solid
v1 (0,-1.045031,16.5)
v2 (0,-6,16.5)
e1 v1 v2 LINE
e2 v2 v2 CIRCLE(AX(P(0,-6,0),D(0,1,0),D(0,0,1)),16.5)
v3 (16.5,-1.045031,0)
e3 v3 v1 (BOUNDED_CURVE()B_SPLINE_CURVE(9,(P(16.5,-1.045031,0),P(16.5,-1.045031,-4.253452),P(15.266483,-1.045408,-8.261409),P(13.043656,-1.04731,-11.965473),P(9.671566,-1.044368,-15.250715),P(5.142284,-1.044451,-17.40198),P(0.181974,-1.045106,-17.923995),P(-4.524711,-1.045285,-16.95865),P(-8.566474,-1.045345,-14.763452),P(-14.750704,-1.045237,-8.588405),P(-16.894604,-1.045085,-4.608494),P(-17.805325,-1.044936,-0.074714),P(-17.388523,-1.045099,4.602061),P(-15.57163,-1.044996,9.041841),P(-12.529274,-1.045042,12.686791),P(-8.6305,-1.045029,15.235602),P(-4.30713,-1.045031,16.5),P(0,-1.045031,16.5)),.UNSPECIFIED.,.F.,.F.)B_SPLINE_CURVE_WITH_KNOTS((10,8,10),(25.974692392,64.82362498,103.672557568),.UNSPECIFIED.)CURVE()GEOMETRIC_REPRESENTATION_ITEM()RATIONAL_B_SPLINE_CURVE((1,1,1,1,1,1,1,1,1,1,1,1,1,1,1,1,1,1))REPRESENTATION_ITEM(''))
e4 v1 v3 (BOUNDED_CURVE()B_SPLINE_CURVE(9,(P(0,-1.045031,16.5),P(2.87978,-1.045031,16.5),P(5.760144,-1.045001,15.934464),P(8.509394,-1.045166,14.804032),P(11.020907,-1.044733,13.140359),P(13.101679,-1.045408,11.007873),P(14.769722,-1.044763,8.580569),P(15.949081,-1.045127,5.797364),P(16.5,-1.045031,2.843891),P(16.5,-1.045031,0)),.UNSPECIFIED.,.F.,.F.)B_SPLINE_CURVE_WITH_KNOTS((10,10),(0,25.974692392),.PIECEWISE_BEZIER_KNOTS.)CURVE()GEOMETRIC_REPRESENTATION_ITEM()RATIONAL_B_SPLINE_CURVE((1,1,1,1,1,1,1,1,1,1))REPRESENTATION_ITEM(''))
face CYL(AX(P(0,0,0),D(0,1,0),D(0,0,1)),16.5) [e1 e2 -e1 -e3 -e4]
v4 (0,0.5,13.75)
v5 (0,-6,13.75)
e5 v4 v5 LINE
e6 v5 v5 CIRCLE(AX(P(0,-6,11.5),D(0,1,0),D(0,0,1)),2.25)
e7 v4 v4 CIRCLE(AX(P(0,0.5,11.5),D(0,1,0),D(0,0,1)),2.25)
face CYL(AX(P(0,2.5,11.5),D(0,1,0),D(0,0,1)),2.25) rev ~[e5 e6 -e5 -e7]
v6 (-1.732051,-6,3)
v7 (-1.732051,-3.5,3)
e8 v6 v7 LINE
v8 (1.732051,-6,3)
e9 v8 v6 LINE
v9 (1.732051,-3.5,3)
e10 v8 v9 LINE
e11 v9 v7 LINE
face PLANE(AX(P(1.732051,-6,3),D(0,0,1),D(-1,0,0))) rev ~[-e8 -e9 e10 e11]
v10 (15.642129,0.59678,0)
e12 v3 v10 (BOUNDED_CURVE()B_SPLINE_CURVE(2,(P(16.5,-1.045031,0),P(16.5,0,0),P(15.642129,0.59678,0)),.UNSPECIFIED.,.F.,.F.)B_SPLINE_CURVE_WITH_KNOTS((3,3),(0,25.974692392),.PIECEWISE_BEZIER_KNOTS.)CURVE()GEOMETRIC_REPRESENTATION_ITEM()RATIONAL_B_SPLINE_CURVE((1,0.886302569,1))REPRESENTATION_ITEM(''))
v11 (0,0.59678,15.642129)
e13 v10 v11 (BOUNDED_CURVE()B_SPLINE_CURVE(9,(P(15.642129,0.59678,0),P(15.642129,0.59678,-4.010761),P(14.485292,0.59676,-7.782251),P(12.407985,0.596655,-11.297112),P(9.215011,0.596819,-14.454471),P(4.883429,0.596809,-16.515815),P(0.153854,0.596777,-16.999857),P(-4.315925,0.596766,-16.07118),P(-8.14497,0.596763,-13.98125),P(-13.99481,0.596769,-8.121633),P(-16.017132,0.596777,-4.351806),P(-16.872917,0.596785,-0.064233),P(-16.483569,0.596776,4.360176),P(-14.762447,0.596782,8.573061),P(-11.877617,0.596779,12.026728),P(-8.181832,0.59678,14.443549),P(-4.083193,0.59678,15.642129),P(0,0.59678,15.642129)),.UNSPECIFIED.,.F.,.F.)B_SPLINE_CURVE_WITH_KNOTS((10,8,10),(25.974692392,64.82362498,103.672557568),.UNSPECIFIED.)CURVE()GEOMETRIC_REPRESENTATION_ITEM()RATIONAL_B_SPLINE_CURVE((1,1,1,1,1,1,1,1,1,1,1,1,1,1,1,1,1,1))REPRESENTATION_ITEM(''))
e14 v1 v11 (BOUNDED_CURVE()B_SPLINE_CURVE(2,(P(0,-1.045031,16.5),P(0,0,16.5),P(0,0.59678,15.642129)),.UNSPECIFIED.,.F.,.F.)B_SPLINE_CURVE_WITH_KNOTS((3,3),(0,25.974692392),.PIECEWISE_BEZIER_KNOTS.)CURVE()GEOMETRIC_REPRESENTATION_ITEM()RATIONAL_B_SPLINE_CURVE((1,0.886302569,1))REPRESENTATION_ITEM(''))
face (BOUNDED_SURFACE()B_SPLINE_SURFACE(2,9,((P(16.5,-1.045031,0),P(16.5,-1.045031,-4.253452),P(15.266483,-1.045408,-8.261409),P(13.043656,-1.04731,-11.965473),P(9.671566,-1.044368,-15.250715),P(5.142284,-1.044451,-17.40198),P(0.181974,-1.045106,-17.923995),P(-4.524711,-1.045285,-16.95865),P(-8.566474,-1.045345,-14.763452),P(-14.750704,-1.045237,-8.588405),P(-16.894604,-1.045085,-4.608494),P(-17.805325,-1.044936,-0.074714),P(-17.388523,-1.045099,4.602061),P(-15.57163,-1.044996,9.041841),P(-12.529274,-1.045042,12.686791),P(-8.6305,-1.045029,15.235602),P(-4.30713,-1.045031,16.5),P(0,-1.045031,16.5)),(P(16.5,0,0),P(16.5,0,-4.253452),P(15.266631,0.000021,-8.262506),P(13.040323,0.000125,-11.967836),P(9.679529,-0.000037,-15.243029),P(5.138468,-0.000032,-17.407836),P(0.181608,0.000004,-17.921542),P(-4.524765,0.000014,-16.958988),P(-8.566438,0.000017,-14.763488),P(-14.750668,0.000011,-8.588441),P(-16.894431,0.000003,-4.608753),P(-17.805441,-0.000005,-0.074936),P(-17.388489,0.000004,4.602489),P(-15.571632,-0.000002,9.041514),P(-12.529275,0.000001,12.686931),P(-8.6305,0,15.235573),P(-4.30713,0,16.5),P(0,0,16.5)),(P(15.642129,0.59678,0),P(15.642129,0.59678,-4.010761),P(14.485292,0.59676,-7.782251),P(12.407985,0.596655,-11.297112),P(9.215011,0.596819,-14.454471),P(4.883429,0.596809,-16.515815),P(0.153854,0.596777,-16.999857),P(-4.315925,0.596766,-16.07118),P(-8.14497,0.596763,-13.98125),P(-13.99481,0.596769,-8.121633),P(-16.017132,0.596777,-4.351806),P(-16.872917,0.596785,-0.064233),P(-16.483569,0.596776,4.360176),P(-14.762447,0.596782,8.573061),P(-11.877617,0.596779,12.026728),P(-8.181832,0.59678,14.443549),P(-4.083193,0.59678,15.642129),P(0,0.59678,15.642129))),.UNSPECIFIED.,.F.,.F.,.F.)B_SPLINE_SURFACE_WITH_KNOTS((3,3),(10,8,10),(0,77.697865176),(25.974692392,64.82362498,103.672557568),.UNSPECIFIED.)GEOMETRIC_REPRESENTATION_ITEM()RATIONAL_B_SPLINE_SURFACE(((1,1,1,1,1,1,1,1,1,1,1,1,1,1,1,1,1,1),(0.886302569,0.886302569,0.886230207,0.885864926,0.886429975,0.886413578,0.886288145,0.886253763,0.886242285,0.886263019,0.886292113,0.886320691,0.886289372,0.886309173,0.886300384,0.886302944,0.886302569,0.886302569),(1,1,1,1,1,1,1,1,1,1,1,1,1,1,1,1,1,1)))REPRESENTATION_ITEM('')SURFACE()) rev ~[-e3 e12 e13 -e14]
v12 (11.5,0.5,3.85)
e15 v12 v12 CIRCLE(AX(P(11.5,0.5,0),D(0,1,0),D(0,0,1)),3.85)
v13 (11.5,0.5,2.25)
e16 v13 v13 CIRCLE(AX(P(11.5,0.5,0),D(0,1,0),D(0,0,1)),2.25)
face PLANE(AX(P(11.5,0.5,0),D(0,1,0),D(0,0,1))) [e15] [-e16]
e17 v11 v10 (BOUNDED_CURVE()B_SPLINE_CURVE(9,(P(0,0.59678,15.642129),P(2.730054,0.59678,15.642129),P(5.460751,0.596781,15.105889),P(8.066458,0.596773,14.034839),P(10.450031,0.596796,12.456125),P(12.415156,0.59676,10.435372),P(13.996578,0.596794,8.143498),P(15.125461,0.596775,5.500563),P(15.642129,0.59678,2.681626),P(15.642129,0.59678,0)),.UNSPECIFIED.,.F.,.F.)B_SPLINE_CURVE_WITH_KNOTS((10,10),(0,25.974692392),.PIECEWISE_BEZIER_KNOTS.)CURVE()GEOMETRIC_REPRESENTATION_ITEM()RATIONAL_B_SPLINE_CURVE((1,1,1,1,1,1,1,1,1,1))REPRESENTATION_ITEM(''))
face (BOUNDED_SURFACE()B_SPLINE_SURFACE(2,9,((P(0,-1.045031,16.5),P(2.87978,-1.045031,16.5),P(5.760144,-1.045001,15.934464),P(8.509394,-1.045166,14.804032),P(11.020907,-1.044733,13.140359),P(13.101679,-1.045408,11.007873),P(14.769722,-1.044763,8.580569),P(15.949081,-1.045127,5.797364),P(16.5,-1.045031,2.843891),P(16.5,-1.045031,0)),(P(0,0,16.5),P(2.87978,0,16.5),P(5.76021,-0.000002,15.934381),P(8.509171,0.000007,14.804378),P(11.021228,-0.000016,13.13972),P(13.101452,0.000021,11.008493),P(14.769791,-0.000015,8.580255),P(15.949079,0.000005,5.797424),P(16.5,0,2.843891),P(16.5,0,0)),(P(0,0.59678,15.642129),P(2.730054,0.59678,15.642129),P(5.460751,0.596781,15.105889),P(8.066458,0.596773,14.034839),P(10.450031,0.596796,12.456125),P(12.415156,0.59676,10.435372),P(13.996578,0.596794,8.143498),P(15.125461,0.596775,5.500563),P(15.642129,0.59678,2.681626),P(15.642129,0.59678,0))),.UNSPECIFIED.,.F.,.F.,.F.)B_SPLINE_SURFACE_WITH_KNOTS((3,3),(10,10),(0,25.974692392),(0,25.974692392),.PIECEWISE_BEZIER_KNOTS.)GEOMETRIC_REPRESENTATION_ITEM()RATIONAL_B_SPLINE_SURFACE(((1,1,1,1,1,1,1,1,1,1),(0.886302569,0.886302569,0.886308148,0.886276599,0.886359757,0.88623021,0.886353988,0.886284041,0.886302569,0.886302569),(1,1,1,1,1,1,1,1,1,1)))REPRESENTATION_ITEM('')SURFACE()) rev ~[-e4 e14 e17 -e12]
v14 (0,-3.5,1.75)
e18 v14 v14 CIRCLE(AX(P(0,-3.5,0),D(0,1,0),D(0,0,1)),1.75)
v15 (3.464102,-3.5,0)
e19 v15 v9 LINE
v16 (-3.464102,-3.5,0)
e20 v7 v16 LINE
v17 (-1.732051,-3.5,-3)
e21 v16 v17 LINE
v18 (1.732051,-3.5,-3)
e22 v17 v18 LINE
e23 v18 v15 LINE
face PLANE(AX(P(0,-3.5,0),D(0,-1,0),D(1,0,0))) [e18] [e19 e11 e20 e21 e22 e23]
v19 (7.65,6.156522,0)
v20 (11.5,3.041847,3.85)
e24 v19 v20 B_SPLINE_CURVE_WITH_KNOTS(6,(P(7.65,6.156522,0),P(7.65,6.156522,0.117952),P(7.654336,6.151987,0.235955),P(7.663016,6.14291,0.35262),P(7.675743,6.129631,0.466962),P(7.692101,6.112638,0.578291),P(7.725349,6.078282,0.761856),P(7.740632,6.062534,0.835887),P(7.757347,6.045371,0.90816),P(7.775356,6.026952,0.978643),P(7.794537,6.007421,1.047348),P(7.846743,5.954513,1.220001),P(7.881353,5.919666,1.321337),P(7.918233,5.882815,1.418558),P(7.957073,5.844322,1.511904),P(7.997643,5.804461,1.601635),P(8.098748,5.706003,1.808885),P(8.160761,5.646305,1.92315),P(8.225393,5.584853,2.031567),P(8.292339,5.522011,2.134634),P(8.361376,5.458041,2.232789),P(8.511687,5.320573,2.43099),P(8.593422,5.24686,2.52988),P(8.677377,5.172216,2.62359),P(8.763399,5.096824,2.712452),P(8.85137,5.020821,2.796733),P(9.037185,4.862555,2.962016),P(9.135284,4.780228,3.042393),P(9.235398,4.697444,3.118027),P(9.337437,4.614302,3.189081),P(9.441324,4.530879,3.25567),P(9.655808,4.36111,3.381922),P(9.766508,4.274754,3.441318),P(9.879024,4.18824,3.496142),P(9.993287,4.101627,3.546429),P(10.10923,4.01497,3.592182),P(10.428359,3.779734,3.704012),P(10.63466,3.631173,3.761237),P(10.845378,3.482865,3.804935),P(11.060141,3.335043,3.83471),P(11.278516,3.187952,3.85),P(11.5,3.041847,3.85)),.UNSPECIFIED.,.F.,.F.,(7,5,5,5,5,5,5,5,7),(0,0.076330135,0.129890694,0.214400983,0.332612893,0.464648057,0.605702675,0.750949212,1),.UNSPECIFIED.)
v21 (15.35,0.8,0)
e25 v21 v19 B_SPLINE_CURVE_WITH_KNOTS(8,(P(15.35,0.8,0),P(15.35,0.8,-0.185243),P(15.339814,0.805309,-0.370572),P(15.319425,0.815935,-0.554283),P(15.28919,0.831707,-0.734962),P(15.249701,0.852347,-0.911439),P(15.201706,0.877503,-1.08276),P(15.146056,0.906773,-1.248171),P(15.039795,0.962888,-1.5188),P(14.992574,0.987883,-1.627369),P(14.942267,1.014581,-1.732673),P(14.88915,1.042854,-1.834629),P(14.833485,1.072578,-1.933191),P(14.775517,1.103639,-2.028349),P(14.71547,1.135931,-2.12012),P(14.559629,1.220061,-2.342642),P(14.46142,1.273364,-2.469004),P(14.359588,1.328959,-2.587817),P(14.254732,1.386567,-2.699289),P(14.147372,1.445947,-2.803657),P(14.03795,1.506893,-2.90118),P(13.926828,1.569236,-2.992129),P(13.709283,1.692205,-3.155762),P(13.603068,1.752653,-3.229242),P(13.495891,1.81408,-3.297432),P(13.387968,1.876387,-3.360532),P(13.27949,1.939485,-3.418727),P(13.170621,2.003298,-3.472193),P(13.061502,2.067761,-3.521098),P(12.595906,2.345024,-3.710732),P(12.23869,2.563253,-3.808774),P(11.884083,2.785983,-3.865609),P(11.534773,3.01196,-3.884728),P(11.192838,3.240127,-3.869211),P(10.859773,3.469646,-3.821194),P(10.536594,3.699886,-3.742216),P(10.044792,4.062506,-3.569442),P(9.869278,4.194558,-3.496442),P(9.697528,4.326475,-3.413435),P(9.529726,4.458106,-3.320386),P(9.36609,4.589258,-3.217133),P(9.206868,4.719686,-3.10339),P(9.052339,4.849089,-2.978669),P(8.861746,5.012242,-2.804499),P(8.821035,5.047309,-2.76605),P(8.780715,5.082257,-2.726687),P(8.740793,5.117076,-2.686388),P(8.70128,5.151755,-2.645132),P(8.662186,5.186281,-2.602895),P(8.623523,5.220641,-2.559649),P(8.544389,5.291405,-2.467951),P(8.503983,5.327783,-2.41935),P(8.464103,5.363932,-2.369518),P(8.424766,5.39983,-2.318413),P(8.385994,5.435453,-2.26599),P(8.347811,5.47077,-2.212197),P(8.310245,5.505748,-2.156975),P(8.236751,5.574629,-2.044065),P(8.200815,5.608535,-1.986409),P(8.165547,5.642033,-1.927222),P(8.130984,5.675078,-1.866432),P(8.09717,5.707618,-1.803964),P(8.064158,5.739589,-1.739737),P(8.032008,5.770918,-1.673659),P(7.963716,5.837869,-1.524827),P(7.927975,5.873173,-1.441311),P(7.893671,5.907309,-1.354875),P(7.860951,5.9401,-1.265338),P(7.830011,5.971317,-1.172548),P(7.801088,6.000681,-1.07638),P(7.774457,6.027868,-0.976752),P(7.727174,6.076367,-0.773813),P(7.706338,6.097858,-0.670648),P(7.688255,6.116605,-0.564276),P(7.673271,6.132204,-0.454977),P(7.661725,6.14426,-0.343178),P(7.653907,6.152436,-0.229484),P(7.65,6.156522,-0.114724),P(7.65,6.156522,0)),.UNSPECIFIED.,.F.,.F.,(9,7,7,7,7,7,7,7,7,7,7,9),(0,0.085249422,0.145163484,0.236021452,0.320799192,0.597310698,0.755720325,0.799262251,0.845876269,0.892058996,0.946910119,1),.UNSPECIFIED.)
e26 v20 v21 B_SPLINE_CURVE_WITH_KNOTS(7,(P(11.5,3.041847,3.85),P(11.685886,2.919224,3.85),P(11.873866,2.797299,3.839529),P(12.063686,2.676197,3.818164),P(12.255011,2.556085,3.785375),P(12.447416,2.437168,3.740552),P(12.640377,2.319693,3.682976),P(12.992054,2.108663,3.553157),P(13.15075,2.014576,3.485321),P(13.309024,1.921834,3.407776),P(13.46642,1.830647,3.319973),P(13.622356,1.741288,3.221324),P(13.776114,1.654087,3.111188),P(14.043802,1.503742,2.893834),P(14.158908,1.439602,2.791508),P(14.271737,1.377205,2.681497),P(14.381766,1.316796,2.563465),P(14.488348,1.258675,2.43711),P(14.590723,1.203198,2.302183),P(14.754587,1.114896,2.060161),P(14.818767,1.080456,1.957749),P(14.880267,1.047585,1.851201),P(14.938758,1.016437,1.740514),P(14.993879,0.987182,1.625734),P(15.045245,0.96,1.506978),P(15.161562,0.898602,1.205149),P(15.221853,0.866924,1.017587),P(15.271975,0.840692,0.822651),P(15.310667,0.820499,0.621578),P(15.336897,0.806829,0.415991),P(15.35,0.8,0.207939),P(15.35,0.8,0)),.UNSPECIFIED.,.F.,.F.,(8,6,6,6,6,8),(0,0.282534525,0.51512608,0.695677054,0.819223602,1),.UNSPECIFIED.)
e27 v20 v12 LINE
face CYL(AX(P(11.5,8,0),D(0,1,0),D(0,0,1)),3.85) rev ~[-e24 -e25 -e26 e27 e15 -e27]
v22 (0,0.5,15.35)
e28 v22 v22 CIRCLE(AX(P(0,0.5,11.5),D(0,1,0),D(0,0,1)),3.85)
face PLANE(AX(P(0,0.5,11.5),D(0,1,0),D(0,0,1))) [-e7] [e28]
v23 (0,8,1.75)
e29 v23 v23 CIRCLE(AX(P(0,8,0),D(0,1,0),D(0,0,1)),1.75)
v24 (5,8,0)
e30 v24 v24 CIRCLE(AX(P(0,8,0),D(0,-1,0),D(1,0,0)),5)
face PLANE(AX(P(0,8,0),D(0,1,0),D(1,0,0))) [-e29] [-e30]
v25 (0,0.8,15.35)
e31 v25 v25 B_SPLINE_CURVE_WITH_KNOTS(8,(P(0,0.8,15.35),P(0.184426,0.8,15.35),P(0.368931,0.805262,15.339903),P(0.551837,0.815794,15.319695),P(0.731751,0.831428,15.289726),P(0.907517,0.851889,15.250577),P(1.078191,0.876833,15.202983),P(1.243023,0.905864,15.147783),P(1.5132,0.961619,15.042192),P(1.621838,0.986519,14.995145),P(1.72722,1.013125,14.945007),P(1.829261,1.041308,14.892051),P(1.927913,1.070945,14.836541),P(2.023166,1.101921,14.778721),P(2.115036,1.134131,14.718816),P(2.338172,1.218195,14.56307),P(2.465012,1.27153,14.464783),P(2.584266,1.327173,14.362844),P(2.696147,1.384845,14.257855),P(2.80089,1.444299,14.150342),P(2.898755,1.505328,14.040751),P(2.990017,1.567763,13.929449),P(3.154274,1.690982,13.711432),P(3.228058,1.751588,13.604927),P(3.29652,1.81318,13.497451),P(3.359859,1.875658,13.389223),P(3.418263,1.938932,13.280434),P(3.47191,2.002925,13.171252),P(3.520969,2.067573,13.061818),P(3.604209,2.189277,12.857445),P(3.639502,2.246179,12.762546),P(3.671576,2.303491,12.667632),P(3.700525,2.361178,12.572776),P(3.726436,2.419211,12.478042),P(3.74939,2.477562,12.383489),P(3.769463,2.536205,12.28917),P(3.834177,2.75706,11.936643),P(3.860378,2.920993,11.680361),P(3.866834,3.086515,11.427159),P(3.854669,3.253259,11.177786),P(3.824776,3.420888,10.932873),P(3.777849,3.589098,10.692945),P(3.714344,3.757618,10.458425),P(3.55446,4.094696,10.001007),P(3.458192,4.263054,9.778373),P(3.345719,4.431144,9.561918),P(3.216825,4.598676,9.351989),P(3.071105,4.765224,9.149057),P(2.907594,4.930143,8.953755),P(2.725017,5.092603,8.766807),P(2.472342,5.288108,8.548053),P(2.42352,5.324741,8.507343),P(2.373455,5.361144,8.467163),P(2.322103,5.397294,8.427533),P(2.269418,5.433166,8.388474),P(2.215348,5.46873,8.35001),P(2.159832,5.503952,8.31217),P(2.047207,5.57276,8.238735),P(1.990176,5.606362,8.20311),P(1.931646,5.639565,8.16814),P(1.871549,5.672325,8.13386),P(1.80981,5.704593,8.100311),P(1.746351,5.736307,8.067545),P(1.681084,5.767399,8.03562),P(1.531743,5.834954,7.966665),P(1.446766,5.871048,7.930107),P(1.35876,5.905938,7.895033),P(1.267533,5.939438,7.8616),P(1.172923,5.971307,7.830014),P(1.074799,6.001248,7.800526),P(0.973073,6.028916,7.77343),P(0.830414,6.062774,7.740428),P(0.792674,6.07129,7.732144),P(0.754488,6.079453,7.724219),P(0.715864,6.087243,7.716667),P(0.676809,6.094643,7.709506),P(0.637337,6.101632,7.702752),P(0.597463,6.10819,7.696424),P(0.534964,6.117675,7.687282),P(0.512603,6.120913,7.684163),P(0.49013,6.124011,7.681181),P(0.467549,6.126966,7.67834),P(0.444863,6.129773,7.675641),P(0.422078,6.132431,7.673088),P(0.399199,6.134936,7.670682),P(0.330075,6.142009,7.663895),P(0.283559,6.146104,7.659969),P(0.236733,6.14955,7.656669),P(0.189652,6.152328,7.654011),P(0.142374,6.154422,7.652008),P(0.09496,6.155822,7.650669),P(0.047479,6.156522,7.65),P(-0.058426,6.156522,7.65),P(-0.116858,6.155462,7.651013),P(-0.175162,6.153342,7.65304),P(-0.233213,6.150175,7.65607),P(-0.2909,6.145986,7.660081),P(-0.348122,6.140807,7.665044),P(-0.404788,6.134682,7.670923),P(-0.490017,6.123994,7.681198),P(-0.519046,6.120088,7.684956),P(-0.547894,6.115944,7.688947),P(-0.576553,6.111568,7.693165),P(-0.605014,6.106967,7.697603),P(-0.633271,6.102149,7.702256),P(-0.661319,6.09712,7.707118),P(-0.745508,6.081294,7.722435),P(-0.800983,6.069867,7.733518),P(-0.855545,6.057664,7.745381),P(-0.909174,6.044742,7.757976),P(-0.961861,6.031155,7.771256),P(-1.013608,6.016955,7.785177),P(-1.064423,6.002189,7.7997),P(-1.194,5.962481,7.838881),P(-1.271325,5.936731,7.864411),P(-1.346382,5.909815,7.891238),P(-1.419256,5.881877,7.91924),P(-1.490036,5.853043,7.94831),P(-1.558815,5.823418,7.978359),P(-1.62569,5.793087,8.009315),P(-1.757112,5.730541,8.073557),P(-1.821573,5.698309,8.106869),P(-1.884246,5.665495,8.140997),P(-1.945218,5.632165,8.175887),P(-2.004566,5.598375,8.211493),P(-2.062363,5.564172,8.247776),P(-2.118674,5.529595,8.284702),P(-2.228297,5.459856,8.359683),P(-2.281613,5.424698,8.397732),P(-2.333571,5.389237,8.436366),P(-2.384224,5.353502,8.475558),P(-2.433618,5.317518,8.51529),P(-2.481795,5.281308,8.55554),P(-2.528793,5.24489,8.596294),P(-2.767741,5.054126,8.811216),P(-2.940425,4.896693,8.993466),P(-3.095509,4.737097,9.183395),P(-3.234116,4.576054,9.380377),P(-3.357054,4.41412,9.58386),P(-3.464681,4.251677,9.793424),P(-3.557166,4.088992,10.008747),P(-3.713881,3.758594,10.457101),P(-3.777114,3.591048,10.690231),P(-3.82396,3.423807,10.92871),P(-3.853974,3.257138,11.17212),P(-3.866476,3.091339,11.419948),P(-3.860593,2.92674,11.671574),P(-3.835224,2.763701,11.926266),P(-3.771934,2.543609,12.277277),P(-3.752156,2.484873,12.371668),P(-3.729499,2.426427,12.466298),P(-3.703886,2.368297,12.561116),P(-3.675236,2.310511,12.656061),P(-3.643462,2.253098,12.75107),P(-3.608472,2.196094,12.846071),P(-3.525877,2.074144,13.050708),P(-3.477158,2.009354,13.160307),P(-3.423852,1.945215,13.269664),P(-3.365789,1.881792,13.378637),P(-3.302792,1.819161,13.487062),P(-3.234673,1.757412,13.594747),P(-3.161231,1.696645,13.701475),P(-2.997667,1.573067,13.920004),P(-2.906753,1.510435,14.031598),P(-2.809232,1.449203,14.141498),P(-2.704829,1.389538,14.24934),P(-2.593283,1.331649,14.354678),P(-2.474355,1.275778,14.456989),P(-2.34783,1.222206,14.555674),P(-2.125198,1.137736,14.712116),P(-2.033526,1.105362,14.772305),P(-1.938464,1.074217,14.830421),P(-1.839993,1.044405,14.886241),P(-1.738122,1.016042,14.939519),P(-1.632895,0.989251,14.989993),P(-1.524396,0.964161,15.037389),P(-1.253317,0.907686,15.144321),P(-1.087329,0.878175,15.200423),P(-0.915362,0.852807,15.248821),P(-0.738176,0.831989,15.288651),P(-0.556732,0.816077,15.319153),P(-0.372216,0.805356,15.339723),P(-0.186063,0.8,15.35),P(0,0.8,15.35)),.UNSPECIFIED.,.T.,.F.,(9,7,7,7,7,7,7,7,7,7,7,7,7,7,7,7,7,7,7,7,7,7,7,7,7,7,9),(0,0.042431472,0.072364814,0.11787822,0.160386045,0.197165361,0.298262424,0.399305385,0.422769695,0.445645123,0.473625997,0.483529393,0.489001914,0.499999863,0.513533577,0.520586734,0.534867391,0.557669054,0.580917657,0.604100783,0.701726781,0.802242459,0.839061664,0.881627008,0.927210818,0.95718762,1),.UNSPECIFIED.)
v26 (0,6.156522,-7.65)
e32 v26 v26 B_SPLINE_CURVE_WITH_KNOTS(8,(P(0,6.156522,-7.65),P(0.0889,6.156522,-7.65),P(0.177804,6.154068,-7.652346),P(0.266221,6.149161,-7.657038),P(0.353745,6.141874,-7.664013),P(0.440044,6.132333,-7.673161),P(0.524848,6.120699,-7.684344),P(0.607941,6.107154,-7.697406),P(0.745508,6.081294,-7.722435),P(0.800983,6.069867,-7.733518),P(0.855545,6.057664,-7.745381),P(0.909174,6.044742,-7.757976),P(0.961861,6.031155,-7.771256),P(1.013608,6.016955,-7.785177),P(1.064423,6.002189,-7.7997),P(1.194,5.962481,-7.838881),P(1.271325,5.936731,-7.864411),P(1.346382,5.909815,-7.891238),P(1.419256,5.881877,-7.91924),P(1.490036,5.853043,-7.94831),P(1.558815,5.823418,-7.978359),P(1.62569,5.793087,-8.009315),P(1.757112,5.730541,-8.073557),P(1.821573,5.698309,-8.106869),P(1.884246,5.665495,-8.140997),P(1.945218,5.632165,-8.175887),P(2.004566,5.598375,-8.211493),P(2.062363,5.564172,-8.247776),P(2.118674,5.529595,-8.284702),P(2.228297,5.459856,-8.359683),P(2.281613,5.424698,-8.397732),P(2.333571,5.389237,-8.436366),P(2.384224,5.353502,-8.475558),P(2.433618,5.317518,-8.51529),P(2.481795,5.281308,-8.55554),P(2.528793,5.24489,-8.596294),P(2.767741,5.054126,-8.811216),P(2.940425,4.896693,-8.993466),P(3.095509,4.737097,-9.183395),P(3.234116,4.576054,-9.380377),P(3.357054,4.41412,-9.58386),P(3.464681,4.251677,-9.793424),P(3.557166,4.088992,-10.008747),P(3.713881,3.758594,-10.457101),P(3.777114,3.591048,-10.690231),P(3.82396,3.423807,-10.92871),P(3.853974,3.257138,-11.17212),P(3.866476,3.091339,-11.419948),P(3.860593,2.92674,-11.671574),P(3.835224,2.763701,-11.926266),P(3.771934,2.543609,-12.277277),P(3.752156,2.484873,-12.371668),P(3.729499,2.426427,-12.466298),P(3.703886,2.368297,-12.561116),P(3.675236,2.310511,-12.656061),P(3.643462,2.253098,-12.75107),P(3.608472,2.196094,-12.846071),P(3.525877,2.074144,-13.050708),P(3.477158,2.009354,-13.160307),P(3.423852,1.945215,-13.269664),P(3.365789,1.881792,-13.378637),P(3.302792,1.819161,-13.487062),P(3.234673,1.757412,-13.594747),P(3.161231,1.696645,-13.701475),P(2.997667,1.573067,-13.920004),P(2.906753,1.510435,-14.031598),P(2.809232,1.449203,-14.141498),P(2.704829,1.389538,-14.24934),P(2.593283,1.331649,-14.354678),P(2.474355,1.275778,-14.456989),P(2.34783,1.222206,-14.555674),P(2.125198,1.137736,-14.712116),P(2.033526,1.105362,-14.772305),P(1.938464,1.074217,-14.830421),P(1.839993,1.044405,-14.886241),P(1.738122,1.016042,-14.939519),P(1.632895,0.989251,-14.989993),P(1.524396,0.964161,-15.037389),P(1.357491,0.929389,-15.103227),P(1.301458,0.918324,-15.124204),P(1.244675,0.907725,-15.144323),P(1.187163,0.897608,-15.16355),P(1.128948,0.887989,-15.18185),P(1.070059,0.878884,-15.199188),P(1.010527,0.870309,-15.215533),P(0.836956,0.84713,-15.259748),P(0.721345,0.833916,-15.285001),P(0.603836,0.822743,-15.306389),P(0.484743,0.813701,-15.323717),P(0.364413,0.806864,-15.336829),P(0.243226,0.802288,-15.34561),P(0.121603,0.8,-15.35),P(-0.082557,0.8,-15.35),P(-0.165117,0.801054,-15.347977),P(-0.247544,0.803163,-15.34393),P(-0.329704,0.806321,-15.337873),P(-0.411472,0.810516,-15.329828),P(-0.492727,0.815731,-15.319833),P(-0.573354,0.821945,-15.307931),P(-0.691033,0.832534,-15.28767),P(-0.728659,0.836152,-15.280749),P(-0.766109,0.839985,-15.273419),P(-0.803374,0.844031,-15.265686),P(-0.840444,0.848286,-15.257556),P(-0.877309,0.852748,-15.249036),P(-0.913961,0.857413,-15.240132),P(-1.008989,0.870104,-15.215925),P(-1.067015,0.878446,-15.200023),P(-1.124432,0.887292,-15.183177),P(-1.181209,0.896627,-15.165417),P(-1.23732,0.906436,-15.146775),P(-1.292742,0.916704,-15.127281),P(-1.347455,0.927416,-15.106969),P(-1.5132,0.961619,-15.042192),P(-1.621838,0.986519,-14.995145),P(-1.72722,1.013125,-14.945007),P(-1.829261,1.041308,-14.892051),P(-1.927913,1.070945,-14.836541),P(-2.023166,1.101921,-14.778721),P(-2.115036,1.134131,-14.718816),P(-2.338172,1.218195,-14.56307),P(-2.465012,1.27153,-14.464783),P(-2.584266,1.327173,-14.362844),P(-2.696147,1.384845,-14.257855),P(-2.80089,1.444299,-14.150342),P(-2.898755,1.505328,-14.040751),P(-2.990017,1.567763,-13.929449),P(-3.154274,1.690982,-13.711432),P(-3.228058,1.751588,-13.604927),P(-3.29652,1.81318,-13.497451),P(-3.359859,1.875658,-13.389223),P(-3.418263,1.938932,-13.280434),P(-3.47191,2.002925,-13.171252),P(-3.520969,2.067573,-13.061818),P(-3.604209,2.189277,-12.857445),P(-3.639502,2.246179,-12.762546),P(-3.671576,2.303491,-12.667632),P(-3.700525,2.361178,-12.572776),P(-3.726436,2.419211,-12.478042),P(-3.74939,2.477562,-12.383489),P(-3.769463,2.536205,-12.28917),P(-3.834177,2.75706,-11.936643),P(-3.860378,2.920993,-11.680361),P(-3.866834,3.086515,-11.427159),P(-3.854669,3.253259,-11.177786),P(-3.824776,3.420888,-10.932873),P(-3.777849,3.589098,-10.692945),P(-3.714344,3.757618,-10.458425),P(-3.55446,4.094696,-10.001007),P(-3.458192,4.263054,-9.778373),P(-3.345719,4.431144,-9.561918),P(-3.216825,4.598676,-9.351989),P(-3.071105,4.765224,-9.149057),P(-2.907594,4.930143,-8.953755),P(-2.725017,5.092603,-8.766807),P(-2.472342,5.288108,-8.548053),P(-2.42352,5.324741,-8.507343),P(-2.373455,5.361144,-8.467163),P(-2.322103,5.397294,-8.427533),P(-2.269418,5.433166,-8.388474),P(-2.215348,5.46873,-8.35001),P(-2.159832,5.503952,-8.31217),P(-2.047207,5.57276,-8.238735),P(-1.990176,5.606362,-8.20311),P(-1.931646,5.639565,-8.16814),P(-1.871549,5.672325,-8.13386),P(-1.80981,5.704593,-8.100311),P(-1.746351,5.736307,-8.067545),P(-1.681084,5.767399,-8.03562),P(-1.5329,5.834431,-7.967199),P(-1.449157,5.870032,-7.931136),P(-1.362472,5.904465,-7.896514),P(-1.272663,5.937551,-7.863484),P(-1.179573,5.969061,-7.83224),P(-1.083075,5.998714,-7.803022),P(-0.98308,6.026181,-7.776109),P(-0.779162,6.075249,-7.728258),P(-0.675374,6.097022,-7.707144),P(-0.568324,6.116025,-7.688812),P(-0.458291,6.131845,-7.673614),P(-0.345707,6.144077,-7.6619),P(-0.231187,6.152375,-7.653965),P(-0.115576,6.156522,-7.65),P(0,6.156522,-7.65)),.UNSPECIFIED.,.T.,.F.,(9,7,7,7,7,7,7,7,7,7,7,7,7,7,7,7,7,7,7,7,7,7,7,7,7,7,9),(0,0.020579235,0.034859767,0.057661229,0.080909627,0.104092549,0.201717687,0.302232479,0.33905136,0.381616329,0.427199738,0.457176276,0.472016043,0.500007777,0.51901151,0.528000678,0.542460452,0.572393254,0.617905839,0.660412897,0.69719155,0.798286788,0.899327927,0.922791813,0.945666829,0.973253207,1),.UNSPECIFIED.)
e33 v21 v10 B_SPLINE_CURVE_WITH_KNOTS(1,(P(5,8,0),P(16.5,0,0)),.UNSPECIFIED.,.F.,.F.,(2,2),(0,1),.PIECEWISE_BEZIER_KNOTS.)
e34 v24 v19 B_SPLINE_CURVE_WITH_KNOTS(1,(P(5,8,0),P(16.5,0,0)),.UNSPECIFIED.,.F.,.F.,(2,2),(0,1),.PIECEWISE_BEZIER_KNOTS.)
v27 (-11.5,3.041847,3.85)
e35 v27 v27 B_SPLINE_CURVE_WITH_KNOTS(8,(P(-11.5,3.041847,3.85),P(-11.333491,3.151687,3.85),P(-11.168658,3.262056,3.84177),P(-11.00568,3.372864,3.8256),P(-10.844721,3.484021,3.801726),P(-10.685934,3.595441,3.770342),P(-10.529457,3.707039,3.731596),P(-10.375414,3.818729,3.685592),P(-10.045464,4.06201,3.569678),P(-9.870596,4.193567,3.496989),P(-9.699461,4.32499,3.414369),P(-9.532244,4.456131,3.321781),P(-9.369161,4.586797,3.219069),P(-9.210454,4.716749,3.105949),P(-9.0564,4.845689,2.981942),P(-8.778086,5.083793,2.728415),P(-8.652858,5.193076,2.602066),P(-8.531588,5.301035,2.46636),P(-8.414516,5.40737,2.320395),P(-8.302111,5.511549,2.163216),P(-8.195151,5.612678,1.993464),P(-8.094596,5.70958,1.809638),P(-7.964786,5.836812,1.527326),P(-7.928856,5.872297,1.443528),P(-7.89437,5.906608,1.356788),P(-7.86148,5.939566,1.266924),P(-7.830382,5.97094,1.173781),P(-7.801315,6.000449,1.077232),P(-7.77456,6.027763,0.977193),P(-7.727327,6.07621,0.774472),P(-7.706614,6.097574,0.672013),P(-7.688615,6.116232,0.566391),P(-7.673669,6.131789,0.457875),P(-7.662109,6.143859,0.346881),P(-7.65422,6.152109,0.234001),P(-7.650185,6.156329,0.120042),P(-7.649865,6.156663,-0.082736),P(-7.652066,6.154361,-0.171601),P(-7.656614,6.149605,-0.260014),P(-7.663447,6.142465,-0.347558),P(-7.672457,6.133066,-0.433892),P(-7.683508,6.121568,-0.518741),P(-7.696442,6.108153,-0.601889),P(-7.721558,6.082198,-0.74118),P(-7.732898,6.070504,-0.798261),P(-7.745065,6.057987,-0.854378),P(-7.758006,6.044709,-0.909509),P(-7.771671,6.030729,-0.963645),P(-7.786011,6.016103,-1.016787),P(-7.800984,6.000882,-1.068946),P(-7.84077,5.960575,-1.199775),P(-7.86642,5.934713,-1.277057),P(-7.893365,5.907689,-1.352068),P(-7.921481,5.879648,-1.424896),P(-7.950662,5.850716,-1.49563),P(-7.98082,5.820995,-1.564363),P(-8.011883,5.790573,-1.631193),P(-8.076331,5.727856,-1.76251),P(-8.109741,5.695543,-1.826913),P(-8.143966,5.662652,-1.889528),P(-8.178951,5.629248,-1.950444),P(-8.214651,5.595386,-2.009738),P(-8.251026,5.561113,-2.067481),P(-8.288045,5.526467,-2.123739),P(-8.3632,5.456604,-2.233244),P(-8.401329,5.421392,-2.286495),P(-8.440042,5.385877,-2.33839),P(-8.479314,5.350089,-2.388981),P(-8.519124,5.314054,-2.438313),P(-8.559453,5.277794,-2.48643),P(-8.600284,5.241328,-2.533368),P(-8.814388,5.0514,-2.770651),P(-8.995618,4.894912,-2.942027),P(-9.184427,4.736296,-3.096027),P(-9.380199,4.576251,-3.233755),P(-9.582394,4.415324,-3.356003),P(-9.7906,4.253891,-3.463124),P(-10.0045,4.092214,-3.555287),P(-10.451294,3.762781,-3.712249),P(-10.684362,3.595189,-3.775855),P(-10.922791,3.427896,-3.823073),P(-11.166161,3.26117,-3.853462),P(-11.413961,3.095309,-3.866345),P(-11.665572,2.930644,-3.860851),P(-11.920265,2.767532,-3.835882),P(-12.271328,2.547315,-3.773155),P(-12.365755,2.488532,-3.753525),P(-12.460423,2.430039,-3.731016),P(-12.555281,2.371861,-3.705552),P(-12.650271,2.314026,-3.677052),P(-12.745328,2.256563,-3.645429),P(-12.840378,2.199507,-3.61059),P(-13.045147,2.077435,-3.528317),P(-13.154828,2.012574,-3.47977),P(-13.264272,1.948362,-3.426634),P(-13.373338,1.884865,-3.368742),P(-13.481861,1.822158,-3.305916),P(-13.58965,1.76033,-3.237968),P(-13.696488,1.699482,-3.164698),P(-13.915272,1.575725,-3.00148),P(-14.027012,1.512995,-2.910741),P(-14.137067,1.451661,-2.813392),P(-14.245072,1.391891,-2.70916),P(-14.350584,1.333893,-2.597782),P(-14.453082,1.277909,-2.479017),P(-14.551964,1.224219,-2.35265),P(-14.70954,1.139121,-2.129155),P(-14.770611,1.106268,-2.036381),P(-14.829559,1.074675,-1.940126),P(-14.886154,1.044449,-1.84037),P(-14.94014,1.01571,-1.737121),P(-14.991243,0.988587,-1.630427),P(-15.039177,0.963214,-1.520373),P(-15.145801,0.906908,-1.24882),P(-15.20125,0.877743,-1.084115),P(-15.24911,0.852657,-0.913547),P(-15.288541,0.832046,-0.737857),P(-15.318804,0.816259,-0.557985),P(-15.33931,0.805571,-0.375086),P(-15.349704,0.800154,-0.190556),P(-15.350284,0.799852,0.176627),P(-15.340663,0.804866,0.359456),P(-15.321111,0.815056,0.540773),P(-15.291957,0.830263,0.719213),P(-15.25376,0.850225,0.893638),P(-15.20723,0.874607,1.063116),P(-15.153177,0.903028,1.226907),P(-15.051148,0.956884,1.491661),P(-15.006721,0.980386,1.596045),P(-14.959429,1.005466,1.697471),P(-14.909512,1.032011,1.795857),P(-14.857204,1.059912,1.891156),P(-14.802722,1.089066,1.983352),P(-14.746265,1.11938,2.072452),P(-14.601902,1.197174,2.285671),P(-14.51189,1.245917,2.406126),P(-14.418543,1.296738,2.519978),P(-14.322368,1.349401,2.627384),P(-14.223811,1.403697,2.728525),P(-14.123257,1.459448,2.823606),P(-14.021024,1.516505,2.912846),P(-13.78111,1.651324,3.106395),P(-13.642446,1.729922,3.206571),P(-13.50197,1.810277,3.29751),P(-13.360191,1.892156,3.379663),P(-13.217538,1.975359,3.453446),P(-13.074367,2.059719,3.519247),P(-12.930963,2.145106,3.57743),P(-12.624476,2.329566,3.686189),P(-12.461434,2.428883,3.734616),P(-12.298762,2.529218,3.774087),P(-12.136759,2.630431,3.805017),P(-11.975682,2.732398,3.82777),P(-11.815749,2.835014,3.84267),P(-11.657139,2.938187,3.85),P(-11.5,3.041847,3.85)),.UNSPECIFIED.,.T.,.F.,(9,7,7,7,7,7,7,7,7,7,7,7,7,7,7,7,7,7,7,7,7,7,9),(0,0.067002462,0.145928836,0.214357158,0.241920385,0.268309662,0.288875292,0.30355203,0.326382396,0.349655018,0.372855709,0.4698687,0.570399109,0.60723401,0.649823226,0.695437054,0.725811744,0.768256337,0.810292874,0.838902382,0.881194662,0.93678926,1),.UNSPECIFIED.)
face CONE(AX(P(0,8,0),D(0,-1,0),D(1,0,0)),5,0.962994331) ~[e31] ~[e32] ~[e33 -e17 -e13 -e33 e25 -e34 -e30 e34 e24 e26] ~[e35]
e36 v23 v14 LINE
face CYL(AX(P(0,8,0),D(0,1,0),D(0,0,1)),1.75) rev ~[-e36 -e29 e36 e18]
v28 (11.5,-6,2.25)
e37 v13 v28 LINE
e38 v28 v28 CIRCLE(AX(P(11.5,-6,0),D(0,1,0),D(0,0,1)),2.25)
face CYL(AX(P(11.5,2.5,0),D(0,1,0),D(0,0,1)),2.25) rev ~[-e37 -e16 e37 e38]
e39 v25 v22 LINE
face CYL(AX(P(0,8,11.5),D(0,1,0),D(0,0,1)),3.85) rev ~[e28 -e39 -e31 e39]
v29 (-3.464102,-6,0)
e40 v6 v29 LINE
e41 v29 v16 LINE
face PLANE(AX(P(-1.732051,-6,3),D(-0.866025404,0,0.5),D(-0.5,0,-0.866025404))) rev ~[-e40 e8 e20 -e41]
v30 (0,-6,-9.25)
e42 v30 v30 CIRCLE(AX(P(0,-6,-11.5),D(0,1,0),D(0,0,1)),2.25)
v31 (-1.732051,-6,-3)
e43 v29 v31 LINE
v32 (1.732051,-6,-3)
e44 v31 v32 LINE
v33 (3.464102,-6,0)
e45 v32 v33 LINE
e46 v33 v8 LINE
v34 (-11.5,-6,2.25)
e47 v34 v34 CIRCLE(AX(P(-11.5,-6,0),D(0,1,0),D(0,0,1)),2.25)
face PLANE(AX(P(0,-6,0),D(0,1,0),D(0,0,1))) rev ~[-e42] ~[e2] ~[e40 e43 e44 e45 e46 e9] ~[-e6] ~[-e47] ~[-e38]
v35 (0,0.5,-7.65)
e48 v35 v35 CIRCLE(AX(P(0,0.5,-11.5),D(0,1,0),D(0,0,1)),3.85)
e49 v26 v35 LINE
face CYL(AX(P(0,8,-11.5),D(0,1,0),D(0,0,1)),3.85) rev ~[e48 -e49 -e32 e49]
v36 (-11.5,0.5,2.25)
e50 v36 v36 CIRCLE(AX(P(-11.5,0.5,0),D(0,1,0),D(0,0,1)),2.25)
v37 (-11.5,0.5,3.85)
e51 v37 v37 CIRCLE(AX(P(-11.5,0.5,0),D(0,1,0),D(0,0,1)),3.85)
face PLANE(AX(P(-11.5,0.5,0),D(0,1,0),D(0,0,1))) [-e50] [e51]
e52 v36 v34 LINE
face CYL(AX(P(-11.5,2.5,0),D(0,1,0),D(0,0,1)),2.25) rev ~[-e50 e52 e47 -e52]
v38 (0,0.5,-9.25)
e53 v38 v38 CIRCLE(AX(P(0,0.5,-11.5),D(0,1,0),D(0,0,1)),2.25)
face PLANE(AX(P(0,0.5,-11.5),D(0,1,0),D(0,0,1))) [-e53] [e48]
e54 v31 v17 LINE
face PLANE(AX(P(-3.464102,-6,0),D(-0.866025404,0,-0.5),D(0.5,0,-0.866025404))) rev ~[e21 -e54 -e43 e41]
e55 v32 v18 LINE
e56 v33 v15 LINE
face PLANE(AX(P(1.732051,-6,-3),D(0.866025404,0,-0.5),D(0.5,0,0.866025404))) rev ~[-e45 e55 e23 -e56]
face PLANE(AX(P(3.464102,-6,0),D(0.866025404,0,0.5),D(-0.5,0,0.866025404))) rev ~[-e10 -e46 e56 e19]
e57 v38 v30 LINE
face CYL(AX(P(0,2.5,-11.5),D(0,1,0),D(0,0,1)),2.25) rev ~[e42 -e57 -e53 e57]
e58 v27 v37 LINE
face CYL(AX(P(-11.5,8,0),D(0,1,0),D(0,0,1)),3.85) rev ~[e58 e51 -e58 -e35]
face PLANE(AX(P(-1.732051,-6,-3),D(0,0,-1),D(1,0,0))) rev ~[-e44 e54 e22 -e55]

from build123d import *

# Parameters (mm, degrees)
SKETCH1_R           = 16.5
BOSS_EXTRUDE1_DEPTH = 6
SKETCH4_R           = 5
SKETCH6_R           = 3.85
CUT_EXTRUDE1_DEPTH  = 7.5
SKETCH7_R           = 1.75
CUT_EXTRUDE2_DEPTH  = 28.21212977
SKETCH9_R           = 2.25
CUT_EXTRUDE3_DEPTH  = 25.834452009
FILLET1_R           = 2
CUT_EXTRUDE4_DEPTH  = 2.5


with BuildPart() as part:
    # Sketch1 → Boss-Extrude1 (new body)
    with BuildSketch(Plane(origin=(0, 0, 0), x_dir=(1, 0, 0), z_dir=(0, 1, 0))):
        with Locations(Location((0, 0, 0), (0, 0, 270))):
            Circle(SKETCH1_R)
    extrude(amount=-BOSS_EXTRUDE1_DEPTH)

    # Sketch4 → section 0 of loft1
    with BuildSketch(Plane(origin=(0, 8, 0), x_dir=(1, 0, 0), z_dir=(0, 1, 0)), mode=Mode.PRIVATE) as loft1_s0:
        Circle(SKETCH4_R)
    # loft up to a face of the part (loft1)
    loft([loft1_s0.sketch, part.faces().sort_by_distance((0, 0, 0))[0]])

    # Sketch6 → Cut-Extrude1 (cut)
    with BuildSketch(Plane(origin=(0, 8, 0), x_dir=(1, 0, 0), z_dir=(0, 1, 0))):
        with Locations(Location((0, 11.5, 0), (0, 0, 270))):
            Circle(SKETCH6_R)
        with Locations(Location((11.5, 0, 0), (0, 0, 270))):
            Circle(SKETCH6_R)
        with Locations(Location((0, -11.5, 0), (0, 0, 270))):
            Circle(SKETCH6_R)
        with Locations(Location((-11.5, 0, 0), (0, 0, 270))):
            Circle(SKETCH6_R)
    extrude(amount=-CUT_EXTRUDE1_DEPTH, mode=Mode.SUBTRACT)

    # Sketch7 → Cut-Extrude2 (cut, through all)
    with BuildSketch(Plane(origin=(0, 8, 0), x_dir=(1, 0, 0), z_dir=(0, 1, 0))):
        with Locations(Location((0, 0, 0), (0, 0, 270))):
            Circle(SKETCH7_R)
    extrude(amount=-CUT_EXTRUDE2_DEPTH, mode=Mode.SUBTRACT)

    # Sketch9 → Cut-Extrude3 (cut, through all)
    with BuildSketch(Plane(origin=(0, 2.5, 0), x_dir=(1, 0, 0), z_dir=(0, 1, 0))):
        with Locations(Location((0, 11.5, 0), (0, 0, 270))):
            Circle(SKETCH9_R)
        with Locations(Location((11.5, 0, 0), (0, 0, 270))):
            Circle(SKETCH9_R)
        with Locations(Location((0, -11.5, 0), (0, 0, 270))):
            Circle(SKETCH9_R)
        with Locations(Location((-11.5, 0, 0), (0, 0, 270))):
            Circle(SKETCH9_R)
    extrude(amount=-CUT_EXTRUDE3_DEPTH, mode=Mode.SUBTRACT)

    # Fillet1
    fillet1_edges = [part.edges().sort_by_distance(p)[0] for p in [
        (11.66726189, 0, 11.66726189),
    ]]
    fillet(fillet1_edges, radius=FILLET1_R)

    # Sketch10 → Cut-Extrude4 (cut)
    with BuildSketch(Plane.XZ.offset(6)):
        Polygon((1.732050808, -3), (3.464101615, 0), (1.732050808, 3), (-1.732050808, 3), (-3.464101615, 0), (-1.732050808, -3), align=None)
    extrude(amount=-CUT_EXTRUDE4_DEPTH, mode=Mode.SUBTRACT)


solid = part.part
